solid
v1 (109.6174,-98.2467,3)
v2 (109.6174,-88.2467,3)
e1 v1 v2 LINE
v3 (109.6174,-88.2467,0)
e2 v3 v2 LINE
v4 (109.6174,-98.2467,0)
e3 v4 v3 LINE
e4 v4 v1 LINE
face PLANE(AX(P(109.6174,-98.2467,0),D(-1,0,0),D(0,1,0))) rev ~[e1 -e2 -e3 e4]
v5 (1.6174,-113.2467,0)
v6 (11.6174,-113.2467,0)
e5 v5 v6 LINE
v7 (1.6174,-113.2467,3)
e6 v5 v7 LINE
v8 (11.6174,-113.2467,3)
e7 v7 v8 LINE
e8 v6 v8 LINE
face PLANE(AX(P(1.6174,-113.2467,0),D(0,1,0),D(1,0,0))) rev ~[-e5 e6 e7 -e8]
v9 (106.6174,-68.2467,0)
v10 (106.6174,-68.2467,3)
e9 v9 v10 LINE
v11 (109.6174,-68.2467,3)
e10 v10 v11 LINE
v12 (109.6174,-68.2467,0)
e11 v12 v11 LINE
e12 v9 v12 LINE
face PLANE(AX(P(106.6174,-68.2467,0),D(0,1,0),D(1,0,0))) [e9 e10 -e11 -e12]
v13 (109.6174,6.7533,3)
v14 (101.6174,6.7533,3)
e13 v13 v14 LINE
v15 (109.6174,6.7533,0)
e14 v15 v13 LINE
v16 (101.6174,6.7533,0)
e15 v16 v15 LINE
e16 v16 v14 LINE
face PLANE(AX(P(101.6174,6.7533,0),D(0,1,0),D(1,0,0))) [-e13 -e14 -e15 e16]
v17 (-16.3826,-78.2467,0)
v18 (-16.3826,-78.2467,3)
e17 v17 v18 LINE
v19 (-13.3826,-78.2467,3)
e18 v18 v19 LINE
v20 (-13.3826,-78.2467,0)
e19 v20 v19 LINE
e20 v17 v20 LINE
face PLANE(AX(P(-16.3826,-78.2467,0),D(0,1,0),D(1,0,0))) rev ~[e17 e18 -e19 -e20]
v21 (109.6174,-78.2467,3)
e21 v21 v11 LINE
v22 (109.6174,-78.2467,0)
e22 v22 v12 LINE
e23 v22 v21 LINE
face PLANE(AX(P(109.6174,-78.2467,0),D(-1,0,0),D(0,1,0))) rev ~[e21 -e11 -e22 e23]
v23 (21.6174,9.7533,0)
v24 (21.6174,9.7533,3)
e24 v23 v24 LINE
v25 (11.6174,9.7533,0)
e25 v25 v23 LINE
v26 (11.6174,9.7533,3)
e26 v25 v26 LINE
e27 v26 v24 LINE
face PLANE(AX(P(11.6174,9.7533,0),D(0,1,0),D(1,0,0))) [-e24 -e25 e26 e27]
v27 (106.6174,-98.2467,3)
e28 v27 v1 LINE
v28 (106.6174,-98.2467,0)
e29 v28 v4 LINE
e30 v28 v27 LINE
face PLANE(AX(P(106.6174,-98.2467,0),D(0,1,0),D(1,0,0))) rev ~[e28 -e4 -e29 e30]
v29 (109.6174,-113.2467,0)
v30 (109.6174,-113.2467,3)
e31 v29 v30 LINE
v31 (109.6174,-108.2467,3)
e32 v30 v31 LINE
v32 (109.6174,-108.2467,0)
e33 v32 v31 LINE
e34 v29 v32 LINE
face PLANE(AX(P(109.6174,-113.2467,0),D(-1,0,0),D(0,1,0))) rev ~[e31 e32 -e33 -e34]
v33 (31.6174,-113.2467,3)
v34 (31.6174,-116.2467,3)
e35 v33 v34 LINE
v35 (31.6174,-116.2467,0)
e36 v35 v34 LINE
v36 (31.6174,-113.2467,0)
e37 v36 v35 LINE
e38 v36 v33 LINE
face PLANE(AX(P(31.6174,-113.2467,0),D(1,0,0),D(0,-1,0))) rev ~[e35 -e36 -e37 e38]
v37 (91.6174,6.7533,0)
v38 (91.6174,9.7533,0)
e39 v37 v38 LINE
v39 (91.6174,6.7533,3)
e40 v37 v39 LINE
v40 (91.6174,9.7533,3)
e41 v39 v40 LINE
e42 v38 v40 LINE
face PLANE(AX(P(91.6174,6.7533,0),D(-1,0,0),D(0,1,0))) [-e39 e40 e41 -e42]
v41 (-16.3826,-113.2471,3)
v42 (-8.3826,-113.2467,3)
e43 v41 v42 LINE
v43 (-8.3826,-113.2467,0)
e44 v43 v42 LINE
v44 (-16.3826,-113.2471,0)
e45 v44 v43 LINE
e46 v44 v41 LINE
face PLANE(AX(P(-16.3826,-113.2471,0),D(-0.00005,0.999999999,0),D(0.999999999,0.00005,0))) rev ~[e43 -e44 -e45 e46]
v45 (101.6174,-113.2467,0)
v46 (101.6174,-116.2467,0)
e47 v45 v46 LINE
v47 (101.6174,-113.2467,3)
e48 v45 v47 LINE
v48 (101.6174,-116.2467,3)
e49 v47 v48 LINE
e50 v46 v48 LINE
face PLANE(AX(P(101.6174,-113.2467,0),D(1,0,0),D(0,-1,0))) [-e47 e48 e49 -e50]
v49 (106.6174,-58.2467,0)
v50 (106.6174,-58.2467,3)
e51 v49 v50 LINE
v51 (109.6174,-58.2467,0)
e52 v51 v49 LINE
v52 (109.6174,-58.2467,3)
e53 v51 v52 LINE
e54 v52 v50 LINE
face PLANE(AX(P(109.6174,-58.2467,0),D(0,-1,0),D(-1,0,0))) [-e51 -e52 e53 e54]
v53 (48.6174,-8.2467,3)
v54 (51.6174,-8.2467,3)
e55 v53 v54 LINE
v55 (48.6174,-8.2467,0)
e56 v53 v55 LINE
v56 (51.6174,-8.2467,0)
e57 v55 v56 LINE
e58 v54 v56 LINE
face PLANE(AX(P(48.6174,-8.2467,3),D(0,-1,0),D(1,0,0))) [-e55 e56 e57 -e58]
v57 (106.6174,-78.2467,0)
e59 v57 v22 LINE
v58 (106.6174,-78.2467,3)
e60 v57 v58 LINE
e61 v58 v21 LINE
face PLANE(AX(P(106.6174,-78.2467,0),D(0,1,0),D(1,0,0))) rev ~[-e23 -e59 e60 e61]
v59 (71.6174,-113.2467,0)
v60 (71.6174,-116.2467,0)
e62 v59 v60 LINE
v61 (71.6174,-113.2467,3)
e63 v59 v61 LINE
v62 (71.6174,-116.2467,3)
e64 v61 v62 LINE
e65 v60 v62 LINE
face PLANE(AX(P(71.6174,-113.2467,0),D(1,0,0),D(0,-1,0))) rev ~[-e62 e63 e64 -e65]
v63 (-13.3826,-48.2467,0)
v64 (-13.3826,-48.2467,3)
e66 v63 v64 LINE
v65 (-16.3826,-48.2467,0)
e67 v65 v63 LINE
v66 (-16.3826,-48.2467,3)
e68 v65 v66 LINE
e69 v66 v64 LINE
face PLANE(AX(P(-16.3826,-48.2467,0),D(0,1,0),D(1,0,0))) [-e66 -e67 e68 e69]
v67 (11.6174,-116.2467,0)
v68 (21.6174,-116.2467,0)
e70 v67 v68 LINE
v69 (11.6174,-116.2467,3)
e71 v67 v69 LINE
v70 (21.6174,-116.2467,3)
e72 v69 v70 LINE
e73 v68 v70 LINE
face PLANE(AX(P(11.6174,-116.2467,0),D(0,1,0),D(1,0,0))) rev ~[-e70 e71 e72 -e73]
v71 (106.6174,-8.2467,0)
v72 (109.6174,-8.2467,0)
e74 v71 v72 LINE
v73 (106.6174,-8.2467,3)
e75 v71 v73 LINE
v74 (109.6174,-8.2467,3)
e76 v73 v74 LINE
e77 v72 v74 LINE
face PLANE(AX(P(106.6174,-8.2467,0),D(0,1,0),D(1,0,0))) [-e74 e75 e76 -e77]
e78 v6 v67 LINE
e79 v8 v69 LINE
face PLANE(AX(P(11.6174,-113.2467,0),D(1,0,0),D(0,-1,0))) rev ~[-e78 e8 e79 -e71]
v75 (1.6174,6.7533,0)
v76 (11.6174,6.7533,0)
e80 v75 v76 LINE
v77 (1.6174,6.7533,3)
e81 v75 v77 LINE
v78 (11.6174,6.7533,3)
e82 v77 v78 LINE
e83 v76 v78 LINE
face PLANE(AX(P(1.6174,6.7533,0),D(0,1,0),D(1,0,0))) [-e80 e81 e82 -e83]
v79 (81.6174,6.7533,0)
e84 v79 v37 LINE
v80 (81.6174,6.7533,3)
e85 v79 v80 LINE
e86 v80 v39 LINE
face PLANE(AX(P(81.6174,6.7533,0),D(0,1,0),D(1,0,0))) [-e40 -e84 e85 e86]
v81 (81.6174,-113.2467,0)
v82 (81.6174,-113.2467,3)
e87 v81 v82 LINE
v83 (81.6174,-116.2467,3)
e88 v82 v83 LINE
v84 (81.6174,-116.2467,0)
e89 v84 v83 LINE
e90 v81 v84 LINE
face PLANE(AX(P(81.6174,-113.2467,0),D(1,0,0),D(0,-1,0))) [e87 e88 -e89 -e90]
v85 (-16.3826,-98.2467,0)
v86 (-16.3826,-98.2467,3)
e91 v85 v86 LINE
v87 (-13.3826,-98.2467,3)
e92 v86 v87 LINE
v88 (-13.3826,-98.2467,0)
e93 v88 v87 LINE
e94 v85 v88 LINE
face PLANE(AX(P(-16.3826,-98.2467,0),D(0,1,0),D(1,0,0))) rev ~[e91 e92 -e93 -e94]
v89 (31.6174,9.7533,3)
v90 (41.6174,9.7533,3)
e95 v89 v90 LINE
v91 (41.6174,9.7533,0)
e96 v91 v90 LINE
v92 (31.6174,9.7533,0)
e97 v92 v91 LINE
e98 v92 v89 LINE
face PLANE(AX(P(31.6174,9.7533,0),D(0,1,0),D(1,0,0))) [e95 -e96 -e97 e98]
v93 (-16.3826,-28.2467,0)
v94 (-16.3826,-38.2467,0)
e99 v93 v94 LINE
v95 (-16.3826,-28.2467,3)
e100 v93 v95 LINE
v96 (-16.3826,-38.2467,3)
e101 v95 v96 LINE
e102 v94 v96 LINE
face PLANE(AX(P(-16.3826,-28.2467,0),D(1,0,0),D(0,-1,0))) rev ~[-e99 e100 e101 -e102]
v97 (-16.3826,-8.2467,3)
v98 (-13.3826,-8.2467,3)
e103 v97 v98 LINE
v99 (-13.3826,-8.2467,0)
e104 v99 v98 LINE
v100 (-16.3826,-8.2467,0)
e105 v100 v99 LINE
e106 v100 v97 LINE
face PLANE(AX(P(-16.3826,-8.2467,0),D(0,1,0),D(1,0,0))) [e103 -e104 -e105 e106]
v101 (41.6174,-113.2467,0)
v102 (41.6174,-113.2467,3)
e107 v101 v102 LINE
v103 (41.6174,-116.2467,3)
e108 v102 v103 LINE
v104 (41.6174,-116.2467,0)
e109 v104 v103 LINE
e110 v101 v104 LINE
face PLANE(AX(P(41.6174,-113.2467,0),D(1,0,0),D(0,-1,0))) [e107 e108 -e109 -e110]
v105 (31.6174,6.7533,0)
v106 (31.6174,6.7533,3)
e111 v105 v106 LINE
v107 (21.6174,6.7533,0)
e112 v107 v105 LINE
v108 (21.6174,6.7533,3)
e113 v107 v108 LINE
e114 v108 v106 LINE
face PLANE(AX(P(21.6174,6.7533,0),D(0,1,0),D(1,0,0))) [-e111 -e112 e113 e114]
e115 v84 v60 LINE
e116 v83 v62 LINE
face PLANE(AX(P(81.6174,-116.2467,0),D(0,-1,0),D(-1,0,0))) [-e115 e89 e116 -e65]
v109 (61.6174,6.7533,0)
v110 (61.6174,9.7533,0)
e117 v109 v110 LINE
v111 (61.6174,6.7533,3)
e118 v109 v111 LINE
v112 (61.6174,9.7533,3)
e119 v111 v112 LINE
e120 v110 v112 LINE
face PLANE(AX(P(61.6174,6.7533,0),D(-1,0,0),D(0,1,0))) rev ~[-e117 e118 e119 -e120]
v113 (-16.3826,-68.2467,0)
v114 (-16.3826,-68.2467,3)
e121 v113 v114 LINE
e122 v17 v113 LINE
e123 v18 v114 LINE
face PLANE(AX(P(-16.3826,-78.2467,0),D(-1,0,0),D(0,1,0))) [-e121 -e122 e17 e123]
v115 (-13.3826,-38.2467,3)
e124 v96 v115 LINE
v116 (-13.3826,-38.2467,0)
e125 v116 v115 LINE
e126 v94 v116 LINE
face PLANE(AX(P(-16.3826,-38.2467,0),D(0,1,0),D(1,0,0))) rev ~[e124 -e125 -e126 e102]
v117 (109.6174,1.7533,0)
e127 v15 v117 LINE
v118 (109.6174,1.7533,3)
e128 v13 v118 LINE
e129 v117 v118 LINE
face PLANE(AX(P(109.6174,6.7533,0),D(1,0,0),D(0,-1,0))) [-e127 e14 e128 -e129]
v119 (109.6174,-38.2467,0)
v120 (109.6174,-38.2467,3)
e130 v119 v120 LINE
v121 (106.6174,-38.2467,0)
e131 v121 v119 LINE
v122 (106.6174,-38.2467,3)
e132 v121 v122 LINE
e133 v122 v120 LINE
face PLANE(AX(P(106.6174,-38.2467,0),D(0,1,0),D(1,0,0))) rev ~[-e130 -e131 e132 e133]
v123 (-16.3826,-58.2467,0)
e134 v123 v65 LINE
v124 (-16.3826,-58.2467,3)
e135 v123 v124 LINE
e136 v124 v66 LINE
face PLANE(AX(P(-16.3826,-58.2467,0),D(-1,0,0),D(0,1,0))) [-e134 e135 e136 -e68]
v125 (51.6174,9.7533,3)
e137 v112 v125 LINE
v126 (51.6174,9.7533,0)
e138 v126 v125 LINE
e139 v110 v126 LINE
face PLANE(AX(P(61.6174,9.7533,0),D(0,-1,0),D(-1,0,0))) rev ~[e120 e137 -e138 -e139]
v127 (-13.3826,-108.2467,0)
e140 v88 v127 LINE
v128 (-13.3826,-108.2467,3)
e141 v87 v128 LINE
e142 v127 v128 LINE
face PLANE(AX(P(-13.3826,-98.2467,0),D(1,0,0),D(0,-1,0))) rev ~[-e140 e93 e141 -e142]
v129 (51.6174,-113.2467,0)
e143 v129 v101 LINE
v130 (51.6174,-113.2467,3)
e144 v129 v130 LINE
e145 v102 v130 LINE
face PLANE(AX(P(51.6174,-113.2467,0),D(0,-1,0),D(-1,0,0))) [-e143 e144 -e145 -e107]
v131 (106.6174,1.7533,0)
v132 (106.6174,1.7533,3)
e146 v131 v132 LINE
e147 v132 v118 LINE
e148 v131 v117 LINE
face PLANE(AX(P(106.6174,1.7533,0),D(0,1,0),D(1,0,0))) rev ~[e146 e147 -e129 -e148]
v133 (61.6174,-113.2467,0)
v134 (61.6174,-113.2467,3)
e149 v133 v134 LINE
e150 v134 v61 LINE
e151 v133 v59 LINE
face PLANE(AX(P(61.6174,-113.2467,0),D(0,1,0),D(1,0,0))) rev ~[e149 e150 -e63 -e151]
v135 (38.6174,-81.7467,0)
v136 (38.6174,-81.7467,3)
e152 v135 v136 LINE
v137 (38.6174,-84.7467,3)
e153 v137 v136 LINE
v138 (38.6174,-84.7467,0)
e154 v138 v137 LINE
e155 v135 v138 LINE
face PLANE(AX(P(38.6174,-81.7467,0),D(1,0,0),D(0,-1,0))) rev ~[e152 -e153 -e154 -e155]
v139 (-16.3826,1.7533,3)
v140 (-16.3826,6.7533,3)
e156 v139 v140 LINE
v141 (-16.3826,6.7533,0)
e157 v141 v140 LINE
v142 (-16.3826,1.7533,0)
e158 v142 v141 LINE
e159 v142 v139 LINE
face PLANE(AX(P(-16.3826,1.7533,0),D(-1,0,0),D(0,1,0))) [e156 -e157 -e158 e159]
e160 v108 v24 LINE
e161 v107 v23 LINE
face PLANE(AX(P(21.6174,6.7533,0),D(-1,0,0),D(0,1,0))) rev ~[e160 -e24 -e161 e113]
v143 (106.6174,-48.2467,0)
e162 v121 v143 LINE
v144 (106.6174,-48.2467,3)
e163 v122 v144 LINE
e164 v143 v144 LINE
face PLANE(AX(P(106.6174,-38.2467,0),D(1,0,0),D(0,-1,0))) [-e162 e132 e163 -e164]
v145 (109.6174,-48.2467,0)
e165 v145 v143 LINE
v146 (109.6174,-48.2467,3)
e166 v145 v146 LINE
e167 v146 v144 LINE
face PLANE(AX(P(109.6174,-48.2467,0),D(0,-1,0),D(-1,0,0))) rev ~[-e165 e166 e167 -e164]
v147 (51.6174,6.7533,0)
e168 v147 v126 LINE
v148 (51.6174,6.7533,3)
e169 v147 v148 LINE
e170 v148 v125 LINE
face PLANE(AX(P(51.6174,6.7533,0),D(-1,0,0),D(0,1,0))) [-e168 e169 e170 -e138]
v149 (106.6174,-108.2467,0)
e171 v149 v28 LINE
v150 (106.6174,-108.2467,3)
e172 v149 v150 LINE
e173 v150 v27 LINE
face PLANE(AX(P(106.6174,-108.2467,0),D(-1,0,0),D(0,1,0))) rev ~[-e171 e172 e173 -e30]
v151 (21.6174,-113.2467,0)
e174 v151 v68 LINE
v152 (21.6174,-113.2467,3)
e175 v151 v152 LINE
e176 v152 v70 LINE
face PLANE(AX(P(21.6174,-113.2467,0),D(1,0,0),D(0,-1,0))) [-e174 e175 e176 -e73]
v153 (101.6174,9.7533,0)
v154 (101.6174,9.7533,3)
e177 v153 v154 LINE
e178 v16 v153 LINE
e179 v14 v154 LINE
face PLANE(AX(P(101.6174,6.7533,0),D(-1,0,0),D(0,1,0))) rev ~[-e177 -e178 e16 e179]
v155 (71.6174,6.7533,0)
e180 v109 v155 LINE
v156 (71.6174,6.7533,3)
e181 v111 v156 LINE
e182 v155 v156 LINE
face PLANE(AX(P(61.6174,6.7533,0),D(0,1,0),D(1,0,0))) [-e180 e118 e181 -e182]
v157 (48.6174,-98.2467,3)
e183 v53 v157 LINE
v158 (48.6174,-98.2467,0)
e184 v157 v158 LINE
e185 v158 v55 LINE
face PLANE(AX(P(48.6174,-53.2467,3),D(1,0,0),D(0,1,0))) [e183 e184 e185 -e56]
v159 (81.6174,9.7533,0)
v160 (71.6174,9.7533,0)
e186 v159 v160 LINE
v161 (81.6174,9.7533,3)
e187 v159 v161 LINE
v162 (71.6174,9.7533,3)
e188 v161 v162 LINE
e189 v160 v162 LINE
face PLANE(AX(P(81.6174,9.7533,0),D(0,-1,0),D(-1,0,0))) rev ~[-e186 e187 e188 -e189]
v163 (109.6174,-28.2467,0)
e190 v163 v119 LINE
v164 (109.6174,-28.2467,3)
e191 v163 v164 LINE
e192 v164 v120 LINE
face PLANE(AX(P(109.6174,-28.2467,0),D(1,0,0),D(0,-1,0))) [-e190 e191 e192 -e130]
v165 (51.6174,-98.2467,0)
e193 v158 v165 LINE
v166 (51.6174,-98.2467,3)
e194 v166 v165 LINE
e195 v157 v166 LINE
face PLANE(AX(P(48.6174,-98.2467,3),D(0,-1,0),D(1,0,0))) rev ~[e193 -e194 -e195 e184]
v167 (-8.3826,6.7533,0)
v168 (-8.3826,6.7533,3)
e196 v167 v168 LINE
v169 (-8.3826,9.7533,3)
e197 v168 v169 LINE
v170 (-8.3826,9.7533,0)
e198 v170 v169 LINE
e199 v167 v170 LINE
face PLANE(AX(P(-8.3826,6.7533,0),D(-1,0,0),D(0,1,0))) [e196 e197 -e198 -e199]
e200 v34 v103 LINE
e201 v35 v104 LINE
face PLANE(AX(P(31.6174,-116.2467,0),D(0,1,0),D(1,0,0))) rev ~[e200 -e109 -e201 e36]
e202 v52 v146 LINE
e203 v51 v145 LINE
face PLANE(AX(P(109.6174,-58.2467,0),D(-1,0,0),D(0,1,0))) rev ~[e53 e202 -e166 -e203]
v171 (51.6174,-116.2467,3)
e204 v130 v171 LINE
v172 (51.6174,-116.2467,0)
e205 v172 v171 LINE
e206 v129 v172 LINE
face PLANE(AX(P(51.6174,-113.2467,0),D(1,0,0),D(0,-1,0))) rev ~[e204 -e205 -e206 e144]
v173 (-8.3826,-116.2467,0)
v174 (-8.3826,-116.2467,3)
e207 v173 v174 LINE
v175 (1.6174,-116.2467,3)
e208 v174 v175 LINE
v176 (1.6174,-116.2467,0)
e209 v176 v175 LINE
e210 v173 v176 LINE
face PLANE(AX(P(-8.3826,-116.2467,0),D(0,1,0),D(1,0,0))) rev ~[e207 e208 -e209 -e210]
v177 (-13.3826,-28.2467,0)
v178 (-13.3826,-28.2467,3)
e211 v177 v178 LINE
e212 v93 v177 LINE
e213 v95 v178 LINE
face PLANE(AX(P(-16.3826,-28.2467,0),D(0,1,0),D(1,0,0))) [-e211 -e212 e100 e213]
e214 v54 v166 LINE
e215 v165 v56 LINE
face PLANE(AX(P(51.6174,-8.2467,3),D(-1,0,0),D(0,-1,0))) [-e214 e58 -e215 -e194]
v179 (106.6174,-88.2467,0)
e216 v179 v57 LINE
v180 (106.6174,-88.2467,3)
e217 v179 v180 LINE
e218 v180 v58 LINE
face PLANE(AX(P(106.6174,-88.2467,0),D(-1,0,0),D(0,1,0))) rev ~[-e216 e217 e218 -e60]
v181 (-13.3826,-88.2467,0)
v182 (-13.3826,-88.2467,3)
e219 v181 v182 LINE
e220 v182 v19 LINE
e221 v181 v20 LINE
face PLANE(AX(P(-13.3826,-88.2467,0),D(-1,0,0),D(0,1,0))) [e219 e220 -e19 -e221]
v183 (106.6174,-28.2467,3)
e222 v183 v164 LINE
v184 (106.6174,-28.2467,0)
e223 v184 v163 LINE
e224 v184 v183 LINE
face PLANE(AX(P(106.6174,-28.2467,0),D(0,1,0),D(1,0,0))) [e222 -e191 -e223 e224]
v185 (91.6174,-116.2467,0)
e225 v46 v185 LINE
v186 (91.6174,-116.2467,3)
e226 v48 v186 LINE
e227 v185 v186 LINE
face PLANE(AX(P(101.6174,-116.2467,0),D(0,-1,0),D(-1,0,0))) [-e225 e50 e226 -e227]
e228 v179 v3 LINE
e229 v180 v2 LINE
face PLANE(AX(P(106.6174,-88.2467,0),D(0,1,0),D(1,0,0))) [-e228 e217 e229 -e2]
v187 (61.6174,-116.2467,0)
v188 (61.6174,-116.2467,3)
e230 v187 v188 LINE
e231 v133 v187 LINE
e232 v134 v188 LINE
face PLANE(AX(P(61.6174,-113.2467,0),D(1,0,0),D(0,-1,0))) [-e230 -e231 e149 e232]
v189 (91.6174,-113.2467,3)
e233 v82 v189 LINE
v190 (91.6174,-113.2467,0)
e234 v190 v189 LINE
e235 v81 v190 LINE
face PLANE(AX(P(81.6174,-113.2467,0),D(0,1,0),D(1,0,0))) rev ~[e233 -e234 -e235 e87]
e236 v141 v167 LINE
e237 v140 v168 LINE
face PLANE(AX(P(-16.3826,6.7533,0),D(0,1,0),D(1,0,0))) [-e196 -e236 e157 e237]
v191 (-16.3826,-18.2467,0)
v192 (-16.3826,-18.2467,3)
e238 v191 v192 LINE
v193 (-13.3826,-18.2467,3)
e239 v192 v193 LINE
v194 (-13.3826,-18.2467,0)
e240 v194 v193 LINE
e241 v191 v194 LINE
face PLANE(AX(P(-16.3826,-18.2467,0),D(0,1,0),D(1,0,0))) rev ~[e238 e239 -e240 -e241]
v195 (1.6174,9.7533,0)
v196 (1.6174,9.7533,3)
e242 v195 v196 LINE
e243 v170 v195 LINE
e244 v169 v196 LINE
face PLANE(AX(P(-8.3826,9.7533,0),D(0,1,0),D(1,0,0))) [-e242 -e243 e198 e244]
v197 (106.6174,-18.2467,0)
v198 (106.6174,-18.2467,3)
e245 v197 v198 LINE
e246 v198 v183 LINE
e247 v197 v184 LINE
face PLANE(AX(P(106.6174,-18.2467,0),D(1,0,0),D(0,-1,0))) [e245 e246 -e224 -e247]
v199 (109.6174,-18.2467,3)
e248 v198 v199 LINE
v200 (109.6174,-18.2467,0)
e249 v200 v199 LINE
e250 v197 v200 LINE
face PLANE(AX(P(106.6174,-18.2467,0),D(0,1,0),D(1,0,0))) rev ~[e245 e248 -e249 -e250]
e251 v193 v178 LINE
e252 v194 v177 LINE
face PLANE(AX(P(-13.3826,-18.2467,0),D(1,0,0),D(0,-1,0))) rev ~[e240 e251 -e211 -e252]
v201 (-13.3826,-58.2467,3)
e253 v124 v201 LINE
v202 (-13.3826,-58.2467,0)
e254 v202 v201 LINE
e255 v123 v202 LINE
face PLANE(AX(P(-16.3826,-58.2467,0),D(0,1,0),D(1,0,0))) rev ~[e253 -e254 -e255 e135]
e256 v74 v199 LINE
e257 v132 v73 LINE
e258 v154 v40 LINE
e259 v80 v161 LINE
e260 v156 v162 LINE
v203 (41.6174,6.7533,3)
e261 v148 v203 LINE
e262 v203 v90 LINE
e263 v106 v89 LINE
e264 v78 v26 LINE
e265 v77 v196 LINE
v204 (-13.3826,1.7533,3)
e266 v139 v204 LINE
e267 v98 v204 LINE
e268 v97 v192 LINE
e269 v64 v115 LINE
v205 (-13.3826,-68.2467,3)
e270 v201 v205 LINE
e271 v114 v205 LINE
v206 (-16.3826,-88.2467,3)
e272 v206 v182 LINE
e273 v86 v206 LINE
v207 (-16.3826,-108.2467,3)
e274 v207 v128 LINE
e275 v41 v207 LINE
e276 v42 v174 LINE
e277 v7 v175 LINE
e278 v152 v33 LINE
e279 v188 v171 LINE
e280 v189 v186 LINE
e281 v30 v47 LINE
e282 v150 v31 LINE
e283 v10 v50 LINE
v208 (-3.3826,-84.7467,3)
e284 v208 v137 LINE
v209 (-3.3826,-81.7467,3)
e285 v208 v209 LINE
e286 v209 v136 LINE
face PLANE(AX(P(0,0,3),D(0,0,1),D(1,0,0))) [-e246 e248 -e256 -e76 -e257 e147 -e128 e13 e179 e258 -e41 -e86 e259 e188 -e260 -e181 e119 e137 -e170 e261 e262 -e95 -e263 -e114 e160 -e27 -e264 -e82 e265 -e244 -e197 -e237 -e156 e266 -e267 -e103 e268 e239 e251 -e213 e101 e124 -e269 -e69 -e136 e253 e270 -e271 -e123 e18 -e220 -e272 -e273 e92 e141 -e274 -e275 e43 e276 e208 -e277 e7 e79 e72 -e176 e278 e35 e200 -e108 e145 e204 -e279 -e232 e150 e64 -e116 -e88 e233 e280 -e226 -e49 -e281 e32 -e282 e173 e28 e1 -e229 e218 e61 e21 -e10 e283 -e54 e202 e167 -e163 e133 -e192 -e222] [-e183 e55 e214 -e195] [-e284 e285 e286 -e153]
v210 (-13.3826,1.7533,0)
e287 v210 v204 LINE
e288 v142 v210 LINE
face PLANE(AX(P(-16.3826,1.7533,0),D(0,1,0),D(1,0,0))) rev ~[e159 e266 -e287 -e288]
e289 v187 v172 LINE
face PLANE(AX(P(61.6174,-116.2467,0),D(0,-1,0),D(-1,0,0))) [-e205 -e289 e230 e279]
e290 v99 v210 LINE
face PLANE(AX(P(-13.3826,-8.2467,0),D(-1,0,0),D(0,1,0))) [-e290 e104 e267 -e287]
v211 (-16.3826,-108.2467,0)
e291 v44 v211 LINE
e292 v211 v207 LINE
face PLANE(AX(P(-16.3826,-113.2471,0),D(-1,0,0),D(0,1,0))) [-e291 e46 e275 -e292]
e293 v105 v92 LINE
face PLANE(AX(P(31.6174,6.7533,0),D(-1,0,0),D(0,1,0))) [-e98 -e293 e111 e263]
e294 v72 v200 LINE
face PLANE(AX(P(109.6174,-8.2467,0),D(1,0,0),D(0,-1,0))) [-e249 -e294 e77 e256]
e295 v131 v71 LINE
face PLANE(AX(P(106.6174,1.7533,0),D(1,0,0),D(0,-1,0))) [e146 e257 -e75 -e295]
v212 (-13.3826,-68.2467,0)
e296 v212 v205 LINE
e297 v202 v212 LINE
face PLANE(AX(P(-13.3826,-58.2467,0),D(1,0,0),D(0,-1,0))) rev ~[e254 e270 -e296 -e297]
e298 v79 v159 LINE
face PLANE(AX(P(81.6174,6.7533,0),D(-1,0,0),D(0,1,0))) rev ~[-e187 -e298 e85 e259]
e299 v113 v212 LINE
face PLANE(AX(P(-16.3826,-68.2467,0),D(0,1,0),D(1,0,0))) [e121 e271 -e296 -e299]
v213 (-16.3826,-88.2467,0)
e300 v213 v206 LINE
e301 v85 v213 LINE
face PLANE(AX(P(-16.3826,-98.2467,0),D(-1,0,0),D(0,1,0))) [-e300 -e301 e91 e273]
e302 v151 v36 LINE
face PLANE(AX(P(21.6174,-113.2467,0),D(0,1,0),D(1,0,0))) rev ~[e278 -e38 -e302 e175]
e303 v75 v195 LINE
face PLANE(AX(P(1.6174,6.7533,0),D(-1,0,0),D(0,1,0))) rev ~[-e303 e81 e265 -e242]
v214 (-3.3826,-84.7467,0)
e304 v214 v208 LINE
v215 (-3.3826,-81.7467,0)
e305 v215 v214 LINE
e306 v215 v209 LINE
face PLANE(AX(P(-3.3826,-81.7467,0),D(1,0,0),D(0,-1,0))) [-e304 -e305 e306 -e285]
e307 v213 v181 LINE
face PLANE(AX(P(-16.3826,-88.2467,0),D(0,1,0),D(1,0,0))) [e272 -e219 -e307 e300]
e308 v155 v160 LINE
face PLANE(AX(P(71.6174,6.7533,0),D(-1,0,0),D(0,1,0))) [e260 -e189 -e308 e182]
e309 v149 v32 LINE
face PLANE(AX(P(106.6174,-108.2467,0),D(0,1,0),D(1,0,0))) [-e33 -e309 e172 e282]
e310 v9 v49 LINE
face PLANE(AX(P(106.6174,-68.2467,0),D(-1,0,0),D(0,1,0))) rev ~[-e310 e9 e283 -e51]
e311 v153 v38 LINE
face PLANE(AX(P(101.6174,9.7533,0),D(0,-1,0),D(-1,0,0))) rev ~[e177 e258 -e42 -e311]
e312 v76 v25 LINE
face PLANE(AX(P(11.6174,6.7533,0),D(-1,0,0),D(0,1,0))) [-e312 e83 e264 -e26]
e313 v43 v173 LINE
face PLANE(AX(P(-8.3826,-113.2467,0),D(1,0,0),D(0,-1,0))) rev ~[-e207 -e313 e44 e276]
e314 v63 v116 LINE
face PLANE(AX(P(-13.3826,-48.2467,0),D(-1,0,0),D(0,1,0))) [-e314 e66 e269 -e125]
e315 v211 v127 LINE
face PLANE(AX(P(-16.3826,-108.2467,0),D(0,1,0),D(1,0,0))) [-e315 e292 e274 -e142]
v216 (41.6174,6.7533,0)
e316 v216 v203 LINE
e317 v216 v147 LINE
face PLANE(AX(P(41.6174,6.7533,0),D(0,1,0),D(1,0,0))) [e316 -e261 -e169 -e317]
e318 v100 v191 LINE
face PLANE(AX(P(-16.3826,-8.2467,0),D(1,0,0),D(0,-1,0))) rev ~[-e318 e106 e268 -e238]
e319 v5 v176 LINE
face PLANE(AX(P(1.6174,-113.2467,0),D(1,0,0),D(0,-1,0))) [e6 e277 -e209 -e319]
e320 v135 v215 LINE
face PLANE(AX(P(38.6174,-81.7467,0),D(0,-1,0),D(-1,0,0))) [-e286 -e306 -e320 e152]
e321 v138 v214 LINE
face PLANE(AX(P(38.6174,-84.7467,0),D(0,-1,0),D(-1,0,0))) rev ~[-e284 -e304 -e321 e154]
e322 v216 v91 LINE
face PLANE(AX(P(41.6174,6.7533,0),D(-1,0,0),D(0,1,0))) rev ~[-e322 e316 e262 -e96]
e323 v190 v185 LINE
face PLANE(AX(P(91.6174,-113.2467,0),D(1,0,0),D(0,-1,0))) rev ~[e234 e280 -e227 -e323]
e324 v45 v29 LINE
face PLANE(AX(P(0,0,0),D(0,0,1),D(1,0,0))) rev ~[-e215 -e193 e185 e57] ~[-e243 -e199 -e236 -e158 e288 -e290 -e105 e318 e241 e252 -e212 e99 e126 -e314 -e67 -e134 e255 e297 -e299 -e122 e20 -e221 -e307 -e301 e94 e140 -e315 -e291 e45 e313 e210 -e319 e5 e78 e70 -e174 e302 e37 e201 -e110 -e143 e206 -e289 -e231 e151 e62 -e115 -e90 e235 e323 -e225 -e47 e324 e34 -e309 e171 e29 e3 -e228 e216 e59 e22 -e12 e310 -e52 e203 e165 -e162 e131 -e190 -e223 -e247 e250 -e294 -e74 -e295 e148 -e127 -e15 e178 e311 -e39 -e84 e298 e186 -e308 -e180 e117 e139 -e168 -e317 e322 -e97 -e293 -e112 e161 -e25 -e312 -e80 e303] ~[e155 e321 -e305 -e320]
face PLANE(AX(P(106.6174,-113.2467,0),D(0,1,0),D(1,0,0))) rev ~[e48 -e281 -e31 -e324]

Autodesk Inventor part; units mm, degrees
ref_plane "YZ Plane" through (0, 0, 0) normal (1, 0, 0) x (0, 1, 0)
ref_plane "XZ Plane" through (0, 0, 0) normal (0, 1, 0) x (-1, 0, 0)
ref_plane "XY Plane" through (0, 0, 0) normal (0, 0, 1) x (1, 0, 0)
sketch "Sketch2" plane through (0, 0, 0) normal (0, 0, 1) x (1, 0, 0)
  line L0 (109.6174, -113.2467) -> (109.6174, -116.2467) projected
  line L1 (106.6174, -113.2467) -> (106.6174, -116.2467) projected
  line L2 (101.6174, -113.2467) -> (109.6174, -113.2467) projected
  line L3 (101.6174, -116.2467) -> (109.6174, -116.2467) projected
  line L4 (101.6174, -113.2467) -> (101.6174, -116.2467) projected
  line L5 (106.6174, -113.2471) -> (106.6174, -108.2467) projected
  line L6 (109.6174, -113.2471) -> (109.6174, -108.2467) projected
  line L7 (106.6174, -108.2467) -> (106.6174, -98.2467) projected
  line L8 (109.6174, -108.2467) -> (109.6174, -98.2467) projected
  line L9 (109.6174, -98.2467) -> (109.6174, -88.2467) projected
  line L10 (106.6174, -98.2467) -> (106.6174, -88.2467) projected
  line L11 (106.6174, -88.2467) -> (106.6174, -78.2467) projected
  line L12 (109.6174, -88.2467) -> (109.6174, -78.2467) projected
  line L13 (109.6174, -78.2467) -> (109.6174, -68.2467) projected
  line L14 (106.6174, -78.2467) -> (106.6174, -68.2467) projected
  line L15 (106.6174, -78.2467) -> (109.6174, -78.2467) projected
  line L16 (106.6174, -88.2467) -> (109.6174, -88.2467) projected
  line L17 (106.6174, -98.2467) -> (109.6174, -98.2467) projected
  line L18 (106.6174, -108.2467) -> (109.6174, -108.2467) projected
  line L19 (91.6174, -113.2467) -> (91.6174, -116.2467) projected
  line L20 (81.6174, -113.2467) -> (81.6174, -116.2467) projected
  line L21 (71.6174, -113.2467) -> (71.6174, -116.2467) projected
  line L22 (61.6174, -113.2467) -> (61.6174, -116.2467) projected
  line L23 (51.6174, -113.2467) -> (51.6174, -116.2467) projected
  line L24 (106.6174, -68.2467) -> (109.6174, -68.2467)
  line L25 (109.6174, -108.2467) -> (106.6174, -108.2467)
  line L26 (109.6174, -98.2467) -> (106.6174, -98.2467)
  line L27 (109.6174, -88.2467) -> (106.6174, -88.2467)
  line L28 (109.6174, -78.2467) -> (106.6174, -78.2467)
  line L29 (101.6174, -113.2467) -> (101.6174, -116.2467)
  line L30 (91.6174, -113.2467) -> (91.6174, -116.2467)
  line L31 (81.6174, -113.2467) -> (81.6174, -116.2467)
  line L32 (71.6174, -113.2467) -> (71.6174, -116.2467)
  line L33 (61.6174, -113.2467) -> (61.6174, -116.2467)
  line L34 (51.6174, -113.2467) -> (51.6174, -116.2467)
  line L35 (106.6174, -113.2471) -> (106.6174, -113.2467)
  line L36 (106.6174, -113.2467) -> (106.6174, -113.2471)
  line L37 (109.6174, -108.2467) -> (109.6174, -113.2467)
  line L38 (106.6174, -98.2467) -> (106.6174, -108.2467)
  line L39 (106.6174, -108.2467) -> (106.6174, -98.2467)
  line L40 (106.6174, -88.2467) -> (106.6174, -78.2467)
  line L41 (109.6174, -68.2467) -> (109.6174, -78.2467)
  line L42 (109.6174, -88.2467) -> (109.6174, -98.2467)
  line L43 (106.6174, -78.2467) -> (106.6174, -88.2467)
  line L44 (101.6174, -113.2471) -> (106.6174, -113.2471)
  line L45 (101.6174, -116.2467) -> (91.6174, -116.2467)
  line L46 (61.6174, -113.2467) -> (71.6174, -113.2468)
  line L47 (81.6174, -113.2469) -> (91.6174, -113.247)
  line L48 (81.6174, -116.2467) -> (71.6174, -116.2467)
  line L49 (61.6174, -116.2467) -> (51.6174, -116.2467)
  line L50 (106.6174, -53.2467) -> (82.6898, -53.2467) construction
  line L51 (46.6174, -113.2467) -> (46.6174, -98.2467) construction
  line L52 (-8.3826, -113.2467) -> (-8.3826, -116.2467)
  line L53 (1.6174, -113.2467) -> (1.6174, -116.2467)
  line L54 (11.6174, -113.2467) -> (11.6174, -116.2467)
  line L55 (21.6174, -113.2467) -> (21.6174, -116.2467)
  line L56 (31.6174, -113.2467) -> (31.6174, -116.2467)
  line L57 (41.6174, -113.2467) -> (41.6174, -116.2467)
  line L58 (-8.3826, -113.2467) -> (-8.3826, -116.2467)
  line L59 (1.6174, -113.2467) -> (1.6174, -116.2467)
  line L60 (11.6174, -113.2467) -> (11.6174, -116.2467)
  line L61 (21.6174, -113.2467) -> (21.6174, -116.2467)
  line L62 (31.6174, -113.2467) -> (31.6174, -116.2467)
  line L63 (41.6174, -113.2467) -> (41.6174, -116.2467)
  line L64 (-8.3826, -116.2467) -> (1.6174, -116.2467)
  line L65 (11.6174, -116.2467) -> (21.6174, -116.2467)
  line L66 (31.6174, -116.2467) -> (41.6174, -116.2467)
  line L67 (-16.3826, -113.2471) -> (-16.3826, -108.2467)
  line L68 (-16.3826, -98.2467) -> (-16.3826, -88.2467)
  line L69 (-16.3826, -78.2467) -> (-16.3826, -68.2467)
  line L70 (-16.3826, -108.2467) -> (-16.3826, -113.2467)
  line L71 (-16.3826, -68.2467) -> (-16.3826, -78.2467)
  line L72 (-16.3826, -88.2467) -> (-16.3826, -98.2467)
  line L73 (109.6174, 6.7533) -> (109.6174, 6.7538)
  line L74 (106.6174, 6.7533) -> (106.6174, 6.7538)
  line L75 (101.6174, 6.7533) -> (109.6174, 6.7533)
  line L76 (101.6174, 6.7533) -> (101.6174, 9.7533)
  line L77 (106.6174, 6.7538) -> (106.6174, 6.7533)
  line L78 (109.6174, 6.7538) -> (109.6174, 1.7533)
  line L79 (106.6174, 1.7533) -> (106.6174, -8.2467)
  line L80 (109.6174, -8.2467) -> (109.6174, -18.2467)
  line L81 (106.6174, -18.2467) -> (106.6174, -28.2467)
  line L82 (109.6174, -28.2467) -> (109.6174, -38.2467)
  line L83 (106.6174, -28.2467) -> (109.6174, -28.2467)
  line L84 (106.6174, -18.2467) -> (109.6174, -18.2467)
  line L85 (106.6174, -8.2467) -> (109.6174, -8.2467)
  line L86 (106.6174, 1.7533) -> (109.6174, 1.7533)
  line L87 (91.6174, 6.7533) -> (91.6174, 9.7533)
  line L88 (81.6174, 6.7533) -> (81.6174, 9.7533)
  line L89 (71.6174, 6.7533) -> (71.6174, 9.7533)
  line L90 (61.6174, 6.7533) -> (61.6174, 9.7533)
  line L91 (51.6174, 6.7533) -> (51.6174, 9.7533)
  line L92 (106.6174, -38.2467) -> (109.6174, -38.2467)
  line L93 (109.6174, 1.7533) -> (106.6174, 1.7533)
  line L94 (109.6174, -8.2467) -> (106.6174, -8.2467)
  line L95 (109.6174, -18.2467) -> (106.6174, -18.2467)
  line L96 (109.6174, -28.2467) -> (106.6174, -28.2467)
  line L97 (101.6174, 6.7533) -> (101.6174, 9.7533)
  line L98 (91.6174, 6.7533) -> (91.6174, 9.7533)
  line L99 (81.6174, 6.7533) -> (81.6174, 9.7533)
  line L100 (71.6174, 6.7533) -> (71.6174, 9.7533)
  line L101 (61.6174, 6.7533) -> (61.6174, 9.7533)
  line L102 (51.6174, 6.7533) -> (51.6174, 9.7533)
  line L103 (106.6174, 6.7538) -> (106.6174, 6.7533)
  line L104 (106.6174, 6.7533) -> (106.6174, 6.7538)
  line L105 (109.6174, 1.7533) -> (109.6174, 6.7533)
  line L106 (106.6174, -8.2467) -> (106.6174, 1.7533)
  line L107 (106.6174, 1.7533) -> (106.6174, -8.2467)
  line L108 (106.6174, -18.2467) -> (106.6174, -28.2467)
  line L109 (109.6174, -38.2467) -> (109.6174, -28.2467)
  line L110 (109.6174, -18.2467) -> (109.6174, -8.2467)
  line L111 (106.6174, -28.2467) -> (106.6174, -18.2467)
  line L112 (101.6174, 6.7538) -> (106.6174, 6.7538)
  line L113 (101.6174, 9.7533) -> (91.6174, 9.7533)
  line L114 (61.6174, 6.7534) -> (71.6174, 6.7535)
  line L115 (81.6174, 6.7536) -> (91.6174, 6.7537)
  line L116 (81.6174, 9.7533) -> (71.6174, 9.7533)
  line L117 (61.6174, 9.7533) -> (51.6174, 9.7533)
  line L118 (46.6174, 6.7533) -> (46.6174, -8.2467) construction
  line L119 (31.6174, 6.7533) -> (31.6174, 9.7533)
  line L120 (41.6174, 6.7533) -> (41.6174, 9.7533)
  line L121 (31.6174, 6.7533) -> (31.6174, 9.7533)
  line L122 (41.6174, 6.7533) -> (41.6174, 9.7533)
  line L123 (31.6174, 9.7533) -> (41.6174, 9.7533)
  line L124 (-8.3826, 6.7533) -> (-8.3826, 9.7533)
  line L125 (1.6174, 6.7533) -> (1.6174, 9.7533)
  line L126 (11.6174, 6.7533) -> (11.6174, 9.7533)
  line L127 (21.6174, 6.7533) -> (21.6174, 9.7533)
  line L128 (-8.3826, 6.7533) -> (-8.3826, 9.7533)
  line L129 (1.6174, 6.7533) -> (1.6174, 9.7533)
  line L130 (-8.3826, 9.7533) -> (1.6174, 9.7533)
  line L131 (11.6174, 6.7533) -> (11.6174, 9.7533)
  line L132 (21.6174, 6.7533) -> (21.6174, 9.7533)
  line L133 (11.6174, 9.7533) -> (21.6174, 9.7533)
  line L134 (-16.3826, -8.2467) -> (-16.3826, -18.2467)
  line L135 (-16.3826, -18.2467) -> (-16.3826, -8.2467)
  line L136 (-16.3826, 1.7533) -> (-16.3826, 6.7533)
  line L137 (-16.3826, 6.7538) -> (-16.3826, 1.7533)
  line L138 (-16.3826, -28.2467) -> (-16.3826, -38.2467)
  line L139 (-16.3826, -38.2467) -> (-16.3826, -28.2467)
  line L140 (109.6174, -58.2467) -> (106.6174, -58.2467)
  line L141 (109.6174, -58.2467) -> (109.6174, -48.2467)
  line L142 (109.6174, -48.2467) -> (106.6174, -48.2467)
  line L143 (-16.3826, -68.2467) -> (-13.3826, -68.2467)
  line L144 (-16.3826, -58.2467) -> (-13.3826, -58.2467)
  line L145 (-16.3826, -58.2467) -> (-16.3826, -48.2467)
  line L146 (-16.3826, -48.2467) -> (-13.3826, -48.2467)
  line L147 (-16.3826, -38.2467) -> (-13.3826, -38.2467)
  line L148 (-16.3826, -108.2467) -> (-13.3826, -108.2467)
  line L149 (-16.3826, -98.2467) -> (-13.3826, -98.2467)
  line L150 (-16.3826, -88.2467) -> (-13.3826, -88.2467)
  line L151 (-16.3826, -78.2467) -> (-13.3826, -78.2467)
  line L152 (-16.3826, -28.2467) -> (-13.3826, -28.2467)
  line L153 (-16.3826, -18.2467) -> (-13.3826, -18.2467)
  line L154 (-16.3826, -8.2467) -> (-13.3826, -8.2467)
  line L155 (106.6174, -113.2467) -> (106.6174, -113.2471)
  line L156 (106.6174, -113.2471) -> (106.6174, -113.2467)
  line L157 (109.6174, -113.2467) -> (101.6174, -113.2467)
  line L158 (91.6174, -113.2467) -> (81.6174, -113.2467)
  line L159 (71.6174, -113.2467) -> (61.6174, -113.2467)
  line L160 (51.6174, -113.2467) -> (46.6174, -113.2467)
  line L161 (41.6174, -113.2467) -> (46.6174, -113.2467)
  line L162 (21.6174, -113.2467) -> (31.6174, -113.2467)
  line L163 (-16.3826, -113.2467) -> (-8.3826, -113.2467)
  line L164 (1.6174, -113.2467) -> (11.6174, -113.2467)
  line L165 (-13.3826, -98.2467) -> (-13.3826, -108.2467)
  line L166 (-13.3826, -108.2467) -> (-13.3826, -98.2467)
  line L167 (-13.3826, -88.2467) -> (-13.3826, -78.2467)
  line L168 (-13.3826, -78.2467) -> (-13.3826, -88.2467)
  line L169 (-13.3826, -58.2467) -> (-13.3826, -68.2467)
  line L170 (-13.3826, -68.2467) -> (-13.3826, -58.2467)
  line L171 (-13.3826, -48.2467) -> (-13.3826, -38.2467)
  line L172 (-13.3826, -38.2467) -> (-13.3826, -48.2467)
  line L173 (-13.3826, -18.2467) -> (-13.3826, -28.2467)
  line L174 (-13.3826, -28.2467) -> (-13.3826, -18.2467)
  line L175 (-16.3826, 1.7533) -> (-13.3826, 1.7533)
  line L176 (-13.3826, -8.2467) -> (-13.3826, 1.7533)
  line L177 (-13.3826, 1.7533) -> (-13.3826, -8.2467)
  line L178 (-16.3826, 6.7533) -> (-8.3826, 6.7533)
  line L179 (1.6174, 6.7533) -> (11.6174, 6.7533)
  line L180 (21.6174, 6.7533) -> (31.6174, 6.7533)
  line L181 (41.6174, 6.7533) -> (46.6174, 6.7533)
  line L182 (51.6174, 6.7533) -> (46.6174, 6.7533)
  line L183 (71.6174, 6.7533) -> (61.6174, 6.7533)
  line L184 (109.6174, 6.7533) -> (101.6174, 6.7533)
  line L185 (91.6174, 6.7533) -> (81.6174, 6.7533)
  line L186 (106.6174, 6.7533) -> (106.6174, 6.7538)
  line L187 (106.6174, 6.7538) -> (106.6174, 6.7533)
  line L188 (106.6174, 1.7533) -> (106.6174, -8.2467)
  line L189 (106.6174, -8.2467) -> (106.6174, 1.7533)
  line L190 (106.6174, -28.2467) -> (106.6174, -18.2467)
  line L191 (106.6174, -18.2467) -> (106.6174, -28.2467)
  line L192 (106.6174, -38.2467) -> (106.6174, -48.2467)
  line L193 (106.6174, -48.2467) -> (106.6174, -38.2467)
  line L194 (106.6174, -68.2467) -> (106.6174, -58.2467)
  line L195 (106.6174, -58.2467) -> (106.6174, -68.2467)
  line L196 (106.6174, -78.2467) -> (106.6174, -88.2467)
  line L197 (106.6174, -98.2467) -> (106.6174, -108.2467)
  line L198 (106.6174, -108.2467) -> (106.6174, -98.2467)
  line L199 (106.6174, -88.2467) -> (106.6174, -78.2467)
  point P0 (0, 0)
  point P1 (106.6174, -116.2467)
  point P2 (-13.3826, -113.2467)
extrude "Extrusion2" add sketch "Sketch2" along normal blind 3 contours L2 L5 L18 L6 | L2 L4 L45 L19 L47 L20 L48 L21 L46 L22 L49 L23 L160 L161 L57 L66 L56 L162 L55 L65 L54 L164 L53 L64 L52 L163 L67 L148 L165 L149 L68 L150 L167 L151 L69 L143 L169 L144 L145 L146 L171 L147 L138 L152 L173 L153 L134 L154 L176 L175 L136 L178 L124 L130 L125 L179 L126 L133 L127 L180 L119 L123 L120 L181 L182 L91 L117 L90 L114 L89 L116 L88 L115 L87 L113 L76 L75 L78 L86 L79 L85 L80 L84 L81 L83 L82 L92 L192 L142 L141 L140 L194 L14 L11 L10 L7 L5 | L17 L10 L16 L9 | L15 L14 L24 L13
sketch "Sketch3" plane through (0, 0, 3) normal (0, 0, 1) x (1, 0, 0)
  line L0 (51.6174, 4.7533) -> (51.6174, -111.2467) projected
  line L1 (51.6174, 4.7533) -> (48.6174, 4.7533)
  line L2 (41.6174, -113.2467) -> (51.6174, -113.2467) projected
  line L3 (51.6174, -113.2467) -> (51.6174, -53.2467)
  line L4 (51.6174, -53.2467) -> (48.6174, -53.2467)
  line L5 (48.6174, -53.2467) -> (48.6174, -8.2467)
  line L6 (48.6174, -8.2467) -> (51.6174, -8.2467)
  line L7 (48.6174, -53.2467) -> (48.6174, -98.2467)
  line L8 (48.6174, -98.2467) -> (51.6174, -98.2467)
  line L9 (51.6174, -98.2467) -> (51.6174, -8.2467)
  point P0 (0, 0)
  dimension "d20" = 60
  dimension "d21" = 45
  dimension "d22" = 45
extrude "Extrusion3" cut sketch "Sketch3" against normal blind 3
sketch "Sketch4" plane through (0, 0, 0) normal (0, 0, -1) x (-1, 0, 0)
  line L0 (-21.6174, -113.2467) -> (-31.6174, -113.2467) projected
  line L1 (13.3826, -58.2467) -> (13.3826, -68.2467) projected
  line L2 (-38.6174, -81.7467) -> (-38.6174, -84.7467)
  line L3 (-48.6174, -98.2467) -> (-48.6174, -8.2467) projected
  line L4 (-38.6174, -84.7467) -> (3.3826, -84.7467)
  circle A0 centre (-68.8966, -83.2467) radius 3 projected
  line L5 (-38.6174, -81.7467) -> (3.3826, -81.7467)
  line L6 (3.3826, -81.7467) -> (3.3826, -84.7467)
  line L7 (13.3826, -78.2467) -> (13.3826, -88.2467) projected
  point P0 (0, 0)
  point P1 (-38.6174, -83.2467)
  dimension "d27" = 3
  dimension "d32" = 42
  dimension "d33" = 42
  dimension "d34" = 10
  dimension "d35" = 10
extrude "Extrusion4" cut sketch "Sketch4" against normal blind 10 contours L5 L6 L4 L2
properties part number "bottom"
